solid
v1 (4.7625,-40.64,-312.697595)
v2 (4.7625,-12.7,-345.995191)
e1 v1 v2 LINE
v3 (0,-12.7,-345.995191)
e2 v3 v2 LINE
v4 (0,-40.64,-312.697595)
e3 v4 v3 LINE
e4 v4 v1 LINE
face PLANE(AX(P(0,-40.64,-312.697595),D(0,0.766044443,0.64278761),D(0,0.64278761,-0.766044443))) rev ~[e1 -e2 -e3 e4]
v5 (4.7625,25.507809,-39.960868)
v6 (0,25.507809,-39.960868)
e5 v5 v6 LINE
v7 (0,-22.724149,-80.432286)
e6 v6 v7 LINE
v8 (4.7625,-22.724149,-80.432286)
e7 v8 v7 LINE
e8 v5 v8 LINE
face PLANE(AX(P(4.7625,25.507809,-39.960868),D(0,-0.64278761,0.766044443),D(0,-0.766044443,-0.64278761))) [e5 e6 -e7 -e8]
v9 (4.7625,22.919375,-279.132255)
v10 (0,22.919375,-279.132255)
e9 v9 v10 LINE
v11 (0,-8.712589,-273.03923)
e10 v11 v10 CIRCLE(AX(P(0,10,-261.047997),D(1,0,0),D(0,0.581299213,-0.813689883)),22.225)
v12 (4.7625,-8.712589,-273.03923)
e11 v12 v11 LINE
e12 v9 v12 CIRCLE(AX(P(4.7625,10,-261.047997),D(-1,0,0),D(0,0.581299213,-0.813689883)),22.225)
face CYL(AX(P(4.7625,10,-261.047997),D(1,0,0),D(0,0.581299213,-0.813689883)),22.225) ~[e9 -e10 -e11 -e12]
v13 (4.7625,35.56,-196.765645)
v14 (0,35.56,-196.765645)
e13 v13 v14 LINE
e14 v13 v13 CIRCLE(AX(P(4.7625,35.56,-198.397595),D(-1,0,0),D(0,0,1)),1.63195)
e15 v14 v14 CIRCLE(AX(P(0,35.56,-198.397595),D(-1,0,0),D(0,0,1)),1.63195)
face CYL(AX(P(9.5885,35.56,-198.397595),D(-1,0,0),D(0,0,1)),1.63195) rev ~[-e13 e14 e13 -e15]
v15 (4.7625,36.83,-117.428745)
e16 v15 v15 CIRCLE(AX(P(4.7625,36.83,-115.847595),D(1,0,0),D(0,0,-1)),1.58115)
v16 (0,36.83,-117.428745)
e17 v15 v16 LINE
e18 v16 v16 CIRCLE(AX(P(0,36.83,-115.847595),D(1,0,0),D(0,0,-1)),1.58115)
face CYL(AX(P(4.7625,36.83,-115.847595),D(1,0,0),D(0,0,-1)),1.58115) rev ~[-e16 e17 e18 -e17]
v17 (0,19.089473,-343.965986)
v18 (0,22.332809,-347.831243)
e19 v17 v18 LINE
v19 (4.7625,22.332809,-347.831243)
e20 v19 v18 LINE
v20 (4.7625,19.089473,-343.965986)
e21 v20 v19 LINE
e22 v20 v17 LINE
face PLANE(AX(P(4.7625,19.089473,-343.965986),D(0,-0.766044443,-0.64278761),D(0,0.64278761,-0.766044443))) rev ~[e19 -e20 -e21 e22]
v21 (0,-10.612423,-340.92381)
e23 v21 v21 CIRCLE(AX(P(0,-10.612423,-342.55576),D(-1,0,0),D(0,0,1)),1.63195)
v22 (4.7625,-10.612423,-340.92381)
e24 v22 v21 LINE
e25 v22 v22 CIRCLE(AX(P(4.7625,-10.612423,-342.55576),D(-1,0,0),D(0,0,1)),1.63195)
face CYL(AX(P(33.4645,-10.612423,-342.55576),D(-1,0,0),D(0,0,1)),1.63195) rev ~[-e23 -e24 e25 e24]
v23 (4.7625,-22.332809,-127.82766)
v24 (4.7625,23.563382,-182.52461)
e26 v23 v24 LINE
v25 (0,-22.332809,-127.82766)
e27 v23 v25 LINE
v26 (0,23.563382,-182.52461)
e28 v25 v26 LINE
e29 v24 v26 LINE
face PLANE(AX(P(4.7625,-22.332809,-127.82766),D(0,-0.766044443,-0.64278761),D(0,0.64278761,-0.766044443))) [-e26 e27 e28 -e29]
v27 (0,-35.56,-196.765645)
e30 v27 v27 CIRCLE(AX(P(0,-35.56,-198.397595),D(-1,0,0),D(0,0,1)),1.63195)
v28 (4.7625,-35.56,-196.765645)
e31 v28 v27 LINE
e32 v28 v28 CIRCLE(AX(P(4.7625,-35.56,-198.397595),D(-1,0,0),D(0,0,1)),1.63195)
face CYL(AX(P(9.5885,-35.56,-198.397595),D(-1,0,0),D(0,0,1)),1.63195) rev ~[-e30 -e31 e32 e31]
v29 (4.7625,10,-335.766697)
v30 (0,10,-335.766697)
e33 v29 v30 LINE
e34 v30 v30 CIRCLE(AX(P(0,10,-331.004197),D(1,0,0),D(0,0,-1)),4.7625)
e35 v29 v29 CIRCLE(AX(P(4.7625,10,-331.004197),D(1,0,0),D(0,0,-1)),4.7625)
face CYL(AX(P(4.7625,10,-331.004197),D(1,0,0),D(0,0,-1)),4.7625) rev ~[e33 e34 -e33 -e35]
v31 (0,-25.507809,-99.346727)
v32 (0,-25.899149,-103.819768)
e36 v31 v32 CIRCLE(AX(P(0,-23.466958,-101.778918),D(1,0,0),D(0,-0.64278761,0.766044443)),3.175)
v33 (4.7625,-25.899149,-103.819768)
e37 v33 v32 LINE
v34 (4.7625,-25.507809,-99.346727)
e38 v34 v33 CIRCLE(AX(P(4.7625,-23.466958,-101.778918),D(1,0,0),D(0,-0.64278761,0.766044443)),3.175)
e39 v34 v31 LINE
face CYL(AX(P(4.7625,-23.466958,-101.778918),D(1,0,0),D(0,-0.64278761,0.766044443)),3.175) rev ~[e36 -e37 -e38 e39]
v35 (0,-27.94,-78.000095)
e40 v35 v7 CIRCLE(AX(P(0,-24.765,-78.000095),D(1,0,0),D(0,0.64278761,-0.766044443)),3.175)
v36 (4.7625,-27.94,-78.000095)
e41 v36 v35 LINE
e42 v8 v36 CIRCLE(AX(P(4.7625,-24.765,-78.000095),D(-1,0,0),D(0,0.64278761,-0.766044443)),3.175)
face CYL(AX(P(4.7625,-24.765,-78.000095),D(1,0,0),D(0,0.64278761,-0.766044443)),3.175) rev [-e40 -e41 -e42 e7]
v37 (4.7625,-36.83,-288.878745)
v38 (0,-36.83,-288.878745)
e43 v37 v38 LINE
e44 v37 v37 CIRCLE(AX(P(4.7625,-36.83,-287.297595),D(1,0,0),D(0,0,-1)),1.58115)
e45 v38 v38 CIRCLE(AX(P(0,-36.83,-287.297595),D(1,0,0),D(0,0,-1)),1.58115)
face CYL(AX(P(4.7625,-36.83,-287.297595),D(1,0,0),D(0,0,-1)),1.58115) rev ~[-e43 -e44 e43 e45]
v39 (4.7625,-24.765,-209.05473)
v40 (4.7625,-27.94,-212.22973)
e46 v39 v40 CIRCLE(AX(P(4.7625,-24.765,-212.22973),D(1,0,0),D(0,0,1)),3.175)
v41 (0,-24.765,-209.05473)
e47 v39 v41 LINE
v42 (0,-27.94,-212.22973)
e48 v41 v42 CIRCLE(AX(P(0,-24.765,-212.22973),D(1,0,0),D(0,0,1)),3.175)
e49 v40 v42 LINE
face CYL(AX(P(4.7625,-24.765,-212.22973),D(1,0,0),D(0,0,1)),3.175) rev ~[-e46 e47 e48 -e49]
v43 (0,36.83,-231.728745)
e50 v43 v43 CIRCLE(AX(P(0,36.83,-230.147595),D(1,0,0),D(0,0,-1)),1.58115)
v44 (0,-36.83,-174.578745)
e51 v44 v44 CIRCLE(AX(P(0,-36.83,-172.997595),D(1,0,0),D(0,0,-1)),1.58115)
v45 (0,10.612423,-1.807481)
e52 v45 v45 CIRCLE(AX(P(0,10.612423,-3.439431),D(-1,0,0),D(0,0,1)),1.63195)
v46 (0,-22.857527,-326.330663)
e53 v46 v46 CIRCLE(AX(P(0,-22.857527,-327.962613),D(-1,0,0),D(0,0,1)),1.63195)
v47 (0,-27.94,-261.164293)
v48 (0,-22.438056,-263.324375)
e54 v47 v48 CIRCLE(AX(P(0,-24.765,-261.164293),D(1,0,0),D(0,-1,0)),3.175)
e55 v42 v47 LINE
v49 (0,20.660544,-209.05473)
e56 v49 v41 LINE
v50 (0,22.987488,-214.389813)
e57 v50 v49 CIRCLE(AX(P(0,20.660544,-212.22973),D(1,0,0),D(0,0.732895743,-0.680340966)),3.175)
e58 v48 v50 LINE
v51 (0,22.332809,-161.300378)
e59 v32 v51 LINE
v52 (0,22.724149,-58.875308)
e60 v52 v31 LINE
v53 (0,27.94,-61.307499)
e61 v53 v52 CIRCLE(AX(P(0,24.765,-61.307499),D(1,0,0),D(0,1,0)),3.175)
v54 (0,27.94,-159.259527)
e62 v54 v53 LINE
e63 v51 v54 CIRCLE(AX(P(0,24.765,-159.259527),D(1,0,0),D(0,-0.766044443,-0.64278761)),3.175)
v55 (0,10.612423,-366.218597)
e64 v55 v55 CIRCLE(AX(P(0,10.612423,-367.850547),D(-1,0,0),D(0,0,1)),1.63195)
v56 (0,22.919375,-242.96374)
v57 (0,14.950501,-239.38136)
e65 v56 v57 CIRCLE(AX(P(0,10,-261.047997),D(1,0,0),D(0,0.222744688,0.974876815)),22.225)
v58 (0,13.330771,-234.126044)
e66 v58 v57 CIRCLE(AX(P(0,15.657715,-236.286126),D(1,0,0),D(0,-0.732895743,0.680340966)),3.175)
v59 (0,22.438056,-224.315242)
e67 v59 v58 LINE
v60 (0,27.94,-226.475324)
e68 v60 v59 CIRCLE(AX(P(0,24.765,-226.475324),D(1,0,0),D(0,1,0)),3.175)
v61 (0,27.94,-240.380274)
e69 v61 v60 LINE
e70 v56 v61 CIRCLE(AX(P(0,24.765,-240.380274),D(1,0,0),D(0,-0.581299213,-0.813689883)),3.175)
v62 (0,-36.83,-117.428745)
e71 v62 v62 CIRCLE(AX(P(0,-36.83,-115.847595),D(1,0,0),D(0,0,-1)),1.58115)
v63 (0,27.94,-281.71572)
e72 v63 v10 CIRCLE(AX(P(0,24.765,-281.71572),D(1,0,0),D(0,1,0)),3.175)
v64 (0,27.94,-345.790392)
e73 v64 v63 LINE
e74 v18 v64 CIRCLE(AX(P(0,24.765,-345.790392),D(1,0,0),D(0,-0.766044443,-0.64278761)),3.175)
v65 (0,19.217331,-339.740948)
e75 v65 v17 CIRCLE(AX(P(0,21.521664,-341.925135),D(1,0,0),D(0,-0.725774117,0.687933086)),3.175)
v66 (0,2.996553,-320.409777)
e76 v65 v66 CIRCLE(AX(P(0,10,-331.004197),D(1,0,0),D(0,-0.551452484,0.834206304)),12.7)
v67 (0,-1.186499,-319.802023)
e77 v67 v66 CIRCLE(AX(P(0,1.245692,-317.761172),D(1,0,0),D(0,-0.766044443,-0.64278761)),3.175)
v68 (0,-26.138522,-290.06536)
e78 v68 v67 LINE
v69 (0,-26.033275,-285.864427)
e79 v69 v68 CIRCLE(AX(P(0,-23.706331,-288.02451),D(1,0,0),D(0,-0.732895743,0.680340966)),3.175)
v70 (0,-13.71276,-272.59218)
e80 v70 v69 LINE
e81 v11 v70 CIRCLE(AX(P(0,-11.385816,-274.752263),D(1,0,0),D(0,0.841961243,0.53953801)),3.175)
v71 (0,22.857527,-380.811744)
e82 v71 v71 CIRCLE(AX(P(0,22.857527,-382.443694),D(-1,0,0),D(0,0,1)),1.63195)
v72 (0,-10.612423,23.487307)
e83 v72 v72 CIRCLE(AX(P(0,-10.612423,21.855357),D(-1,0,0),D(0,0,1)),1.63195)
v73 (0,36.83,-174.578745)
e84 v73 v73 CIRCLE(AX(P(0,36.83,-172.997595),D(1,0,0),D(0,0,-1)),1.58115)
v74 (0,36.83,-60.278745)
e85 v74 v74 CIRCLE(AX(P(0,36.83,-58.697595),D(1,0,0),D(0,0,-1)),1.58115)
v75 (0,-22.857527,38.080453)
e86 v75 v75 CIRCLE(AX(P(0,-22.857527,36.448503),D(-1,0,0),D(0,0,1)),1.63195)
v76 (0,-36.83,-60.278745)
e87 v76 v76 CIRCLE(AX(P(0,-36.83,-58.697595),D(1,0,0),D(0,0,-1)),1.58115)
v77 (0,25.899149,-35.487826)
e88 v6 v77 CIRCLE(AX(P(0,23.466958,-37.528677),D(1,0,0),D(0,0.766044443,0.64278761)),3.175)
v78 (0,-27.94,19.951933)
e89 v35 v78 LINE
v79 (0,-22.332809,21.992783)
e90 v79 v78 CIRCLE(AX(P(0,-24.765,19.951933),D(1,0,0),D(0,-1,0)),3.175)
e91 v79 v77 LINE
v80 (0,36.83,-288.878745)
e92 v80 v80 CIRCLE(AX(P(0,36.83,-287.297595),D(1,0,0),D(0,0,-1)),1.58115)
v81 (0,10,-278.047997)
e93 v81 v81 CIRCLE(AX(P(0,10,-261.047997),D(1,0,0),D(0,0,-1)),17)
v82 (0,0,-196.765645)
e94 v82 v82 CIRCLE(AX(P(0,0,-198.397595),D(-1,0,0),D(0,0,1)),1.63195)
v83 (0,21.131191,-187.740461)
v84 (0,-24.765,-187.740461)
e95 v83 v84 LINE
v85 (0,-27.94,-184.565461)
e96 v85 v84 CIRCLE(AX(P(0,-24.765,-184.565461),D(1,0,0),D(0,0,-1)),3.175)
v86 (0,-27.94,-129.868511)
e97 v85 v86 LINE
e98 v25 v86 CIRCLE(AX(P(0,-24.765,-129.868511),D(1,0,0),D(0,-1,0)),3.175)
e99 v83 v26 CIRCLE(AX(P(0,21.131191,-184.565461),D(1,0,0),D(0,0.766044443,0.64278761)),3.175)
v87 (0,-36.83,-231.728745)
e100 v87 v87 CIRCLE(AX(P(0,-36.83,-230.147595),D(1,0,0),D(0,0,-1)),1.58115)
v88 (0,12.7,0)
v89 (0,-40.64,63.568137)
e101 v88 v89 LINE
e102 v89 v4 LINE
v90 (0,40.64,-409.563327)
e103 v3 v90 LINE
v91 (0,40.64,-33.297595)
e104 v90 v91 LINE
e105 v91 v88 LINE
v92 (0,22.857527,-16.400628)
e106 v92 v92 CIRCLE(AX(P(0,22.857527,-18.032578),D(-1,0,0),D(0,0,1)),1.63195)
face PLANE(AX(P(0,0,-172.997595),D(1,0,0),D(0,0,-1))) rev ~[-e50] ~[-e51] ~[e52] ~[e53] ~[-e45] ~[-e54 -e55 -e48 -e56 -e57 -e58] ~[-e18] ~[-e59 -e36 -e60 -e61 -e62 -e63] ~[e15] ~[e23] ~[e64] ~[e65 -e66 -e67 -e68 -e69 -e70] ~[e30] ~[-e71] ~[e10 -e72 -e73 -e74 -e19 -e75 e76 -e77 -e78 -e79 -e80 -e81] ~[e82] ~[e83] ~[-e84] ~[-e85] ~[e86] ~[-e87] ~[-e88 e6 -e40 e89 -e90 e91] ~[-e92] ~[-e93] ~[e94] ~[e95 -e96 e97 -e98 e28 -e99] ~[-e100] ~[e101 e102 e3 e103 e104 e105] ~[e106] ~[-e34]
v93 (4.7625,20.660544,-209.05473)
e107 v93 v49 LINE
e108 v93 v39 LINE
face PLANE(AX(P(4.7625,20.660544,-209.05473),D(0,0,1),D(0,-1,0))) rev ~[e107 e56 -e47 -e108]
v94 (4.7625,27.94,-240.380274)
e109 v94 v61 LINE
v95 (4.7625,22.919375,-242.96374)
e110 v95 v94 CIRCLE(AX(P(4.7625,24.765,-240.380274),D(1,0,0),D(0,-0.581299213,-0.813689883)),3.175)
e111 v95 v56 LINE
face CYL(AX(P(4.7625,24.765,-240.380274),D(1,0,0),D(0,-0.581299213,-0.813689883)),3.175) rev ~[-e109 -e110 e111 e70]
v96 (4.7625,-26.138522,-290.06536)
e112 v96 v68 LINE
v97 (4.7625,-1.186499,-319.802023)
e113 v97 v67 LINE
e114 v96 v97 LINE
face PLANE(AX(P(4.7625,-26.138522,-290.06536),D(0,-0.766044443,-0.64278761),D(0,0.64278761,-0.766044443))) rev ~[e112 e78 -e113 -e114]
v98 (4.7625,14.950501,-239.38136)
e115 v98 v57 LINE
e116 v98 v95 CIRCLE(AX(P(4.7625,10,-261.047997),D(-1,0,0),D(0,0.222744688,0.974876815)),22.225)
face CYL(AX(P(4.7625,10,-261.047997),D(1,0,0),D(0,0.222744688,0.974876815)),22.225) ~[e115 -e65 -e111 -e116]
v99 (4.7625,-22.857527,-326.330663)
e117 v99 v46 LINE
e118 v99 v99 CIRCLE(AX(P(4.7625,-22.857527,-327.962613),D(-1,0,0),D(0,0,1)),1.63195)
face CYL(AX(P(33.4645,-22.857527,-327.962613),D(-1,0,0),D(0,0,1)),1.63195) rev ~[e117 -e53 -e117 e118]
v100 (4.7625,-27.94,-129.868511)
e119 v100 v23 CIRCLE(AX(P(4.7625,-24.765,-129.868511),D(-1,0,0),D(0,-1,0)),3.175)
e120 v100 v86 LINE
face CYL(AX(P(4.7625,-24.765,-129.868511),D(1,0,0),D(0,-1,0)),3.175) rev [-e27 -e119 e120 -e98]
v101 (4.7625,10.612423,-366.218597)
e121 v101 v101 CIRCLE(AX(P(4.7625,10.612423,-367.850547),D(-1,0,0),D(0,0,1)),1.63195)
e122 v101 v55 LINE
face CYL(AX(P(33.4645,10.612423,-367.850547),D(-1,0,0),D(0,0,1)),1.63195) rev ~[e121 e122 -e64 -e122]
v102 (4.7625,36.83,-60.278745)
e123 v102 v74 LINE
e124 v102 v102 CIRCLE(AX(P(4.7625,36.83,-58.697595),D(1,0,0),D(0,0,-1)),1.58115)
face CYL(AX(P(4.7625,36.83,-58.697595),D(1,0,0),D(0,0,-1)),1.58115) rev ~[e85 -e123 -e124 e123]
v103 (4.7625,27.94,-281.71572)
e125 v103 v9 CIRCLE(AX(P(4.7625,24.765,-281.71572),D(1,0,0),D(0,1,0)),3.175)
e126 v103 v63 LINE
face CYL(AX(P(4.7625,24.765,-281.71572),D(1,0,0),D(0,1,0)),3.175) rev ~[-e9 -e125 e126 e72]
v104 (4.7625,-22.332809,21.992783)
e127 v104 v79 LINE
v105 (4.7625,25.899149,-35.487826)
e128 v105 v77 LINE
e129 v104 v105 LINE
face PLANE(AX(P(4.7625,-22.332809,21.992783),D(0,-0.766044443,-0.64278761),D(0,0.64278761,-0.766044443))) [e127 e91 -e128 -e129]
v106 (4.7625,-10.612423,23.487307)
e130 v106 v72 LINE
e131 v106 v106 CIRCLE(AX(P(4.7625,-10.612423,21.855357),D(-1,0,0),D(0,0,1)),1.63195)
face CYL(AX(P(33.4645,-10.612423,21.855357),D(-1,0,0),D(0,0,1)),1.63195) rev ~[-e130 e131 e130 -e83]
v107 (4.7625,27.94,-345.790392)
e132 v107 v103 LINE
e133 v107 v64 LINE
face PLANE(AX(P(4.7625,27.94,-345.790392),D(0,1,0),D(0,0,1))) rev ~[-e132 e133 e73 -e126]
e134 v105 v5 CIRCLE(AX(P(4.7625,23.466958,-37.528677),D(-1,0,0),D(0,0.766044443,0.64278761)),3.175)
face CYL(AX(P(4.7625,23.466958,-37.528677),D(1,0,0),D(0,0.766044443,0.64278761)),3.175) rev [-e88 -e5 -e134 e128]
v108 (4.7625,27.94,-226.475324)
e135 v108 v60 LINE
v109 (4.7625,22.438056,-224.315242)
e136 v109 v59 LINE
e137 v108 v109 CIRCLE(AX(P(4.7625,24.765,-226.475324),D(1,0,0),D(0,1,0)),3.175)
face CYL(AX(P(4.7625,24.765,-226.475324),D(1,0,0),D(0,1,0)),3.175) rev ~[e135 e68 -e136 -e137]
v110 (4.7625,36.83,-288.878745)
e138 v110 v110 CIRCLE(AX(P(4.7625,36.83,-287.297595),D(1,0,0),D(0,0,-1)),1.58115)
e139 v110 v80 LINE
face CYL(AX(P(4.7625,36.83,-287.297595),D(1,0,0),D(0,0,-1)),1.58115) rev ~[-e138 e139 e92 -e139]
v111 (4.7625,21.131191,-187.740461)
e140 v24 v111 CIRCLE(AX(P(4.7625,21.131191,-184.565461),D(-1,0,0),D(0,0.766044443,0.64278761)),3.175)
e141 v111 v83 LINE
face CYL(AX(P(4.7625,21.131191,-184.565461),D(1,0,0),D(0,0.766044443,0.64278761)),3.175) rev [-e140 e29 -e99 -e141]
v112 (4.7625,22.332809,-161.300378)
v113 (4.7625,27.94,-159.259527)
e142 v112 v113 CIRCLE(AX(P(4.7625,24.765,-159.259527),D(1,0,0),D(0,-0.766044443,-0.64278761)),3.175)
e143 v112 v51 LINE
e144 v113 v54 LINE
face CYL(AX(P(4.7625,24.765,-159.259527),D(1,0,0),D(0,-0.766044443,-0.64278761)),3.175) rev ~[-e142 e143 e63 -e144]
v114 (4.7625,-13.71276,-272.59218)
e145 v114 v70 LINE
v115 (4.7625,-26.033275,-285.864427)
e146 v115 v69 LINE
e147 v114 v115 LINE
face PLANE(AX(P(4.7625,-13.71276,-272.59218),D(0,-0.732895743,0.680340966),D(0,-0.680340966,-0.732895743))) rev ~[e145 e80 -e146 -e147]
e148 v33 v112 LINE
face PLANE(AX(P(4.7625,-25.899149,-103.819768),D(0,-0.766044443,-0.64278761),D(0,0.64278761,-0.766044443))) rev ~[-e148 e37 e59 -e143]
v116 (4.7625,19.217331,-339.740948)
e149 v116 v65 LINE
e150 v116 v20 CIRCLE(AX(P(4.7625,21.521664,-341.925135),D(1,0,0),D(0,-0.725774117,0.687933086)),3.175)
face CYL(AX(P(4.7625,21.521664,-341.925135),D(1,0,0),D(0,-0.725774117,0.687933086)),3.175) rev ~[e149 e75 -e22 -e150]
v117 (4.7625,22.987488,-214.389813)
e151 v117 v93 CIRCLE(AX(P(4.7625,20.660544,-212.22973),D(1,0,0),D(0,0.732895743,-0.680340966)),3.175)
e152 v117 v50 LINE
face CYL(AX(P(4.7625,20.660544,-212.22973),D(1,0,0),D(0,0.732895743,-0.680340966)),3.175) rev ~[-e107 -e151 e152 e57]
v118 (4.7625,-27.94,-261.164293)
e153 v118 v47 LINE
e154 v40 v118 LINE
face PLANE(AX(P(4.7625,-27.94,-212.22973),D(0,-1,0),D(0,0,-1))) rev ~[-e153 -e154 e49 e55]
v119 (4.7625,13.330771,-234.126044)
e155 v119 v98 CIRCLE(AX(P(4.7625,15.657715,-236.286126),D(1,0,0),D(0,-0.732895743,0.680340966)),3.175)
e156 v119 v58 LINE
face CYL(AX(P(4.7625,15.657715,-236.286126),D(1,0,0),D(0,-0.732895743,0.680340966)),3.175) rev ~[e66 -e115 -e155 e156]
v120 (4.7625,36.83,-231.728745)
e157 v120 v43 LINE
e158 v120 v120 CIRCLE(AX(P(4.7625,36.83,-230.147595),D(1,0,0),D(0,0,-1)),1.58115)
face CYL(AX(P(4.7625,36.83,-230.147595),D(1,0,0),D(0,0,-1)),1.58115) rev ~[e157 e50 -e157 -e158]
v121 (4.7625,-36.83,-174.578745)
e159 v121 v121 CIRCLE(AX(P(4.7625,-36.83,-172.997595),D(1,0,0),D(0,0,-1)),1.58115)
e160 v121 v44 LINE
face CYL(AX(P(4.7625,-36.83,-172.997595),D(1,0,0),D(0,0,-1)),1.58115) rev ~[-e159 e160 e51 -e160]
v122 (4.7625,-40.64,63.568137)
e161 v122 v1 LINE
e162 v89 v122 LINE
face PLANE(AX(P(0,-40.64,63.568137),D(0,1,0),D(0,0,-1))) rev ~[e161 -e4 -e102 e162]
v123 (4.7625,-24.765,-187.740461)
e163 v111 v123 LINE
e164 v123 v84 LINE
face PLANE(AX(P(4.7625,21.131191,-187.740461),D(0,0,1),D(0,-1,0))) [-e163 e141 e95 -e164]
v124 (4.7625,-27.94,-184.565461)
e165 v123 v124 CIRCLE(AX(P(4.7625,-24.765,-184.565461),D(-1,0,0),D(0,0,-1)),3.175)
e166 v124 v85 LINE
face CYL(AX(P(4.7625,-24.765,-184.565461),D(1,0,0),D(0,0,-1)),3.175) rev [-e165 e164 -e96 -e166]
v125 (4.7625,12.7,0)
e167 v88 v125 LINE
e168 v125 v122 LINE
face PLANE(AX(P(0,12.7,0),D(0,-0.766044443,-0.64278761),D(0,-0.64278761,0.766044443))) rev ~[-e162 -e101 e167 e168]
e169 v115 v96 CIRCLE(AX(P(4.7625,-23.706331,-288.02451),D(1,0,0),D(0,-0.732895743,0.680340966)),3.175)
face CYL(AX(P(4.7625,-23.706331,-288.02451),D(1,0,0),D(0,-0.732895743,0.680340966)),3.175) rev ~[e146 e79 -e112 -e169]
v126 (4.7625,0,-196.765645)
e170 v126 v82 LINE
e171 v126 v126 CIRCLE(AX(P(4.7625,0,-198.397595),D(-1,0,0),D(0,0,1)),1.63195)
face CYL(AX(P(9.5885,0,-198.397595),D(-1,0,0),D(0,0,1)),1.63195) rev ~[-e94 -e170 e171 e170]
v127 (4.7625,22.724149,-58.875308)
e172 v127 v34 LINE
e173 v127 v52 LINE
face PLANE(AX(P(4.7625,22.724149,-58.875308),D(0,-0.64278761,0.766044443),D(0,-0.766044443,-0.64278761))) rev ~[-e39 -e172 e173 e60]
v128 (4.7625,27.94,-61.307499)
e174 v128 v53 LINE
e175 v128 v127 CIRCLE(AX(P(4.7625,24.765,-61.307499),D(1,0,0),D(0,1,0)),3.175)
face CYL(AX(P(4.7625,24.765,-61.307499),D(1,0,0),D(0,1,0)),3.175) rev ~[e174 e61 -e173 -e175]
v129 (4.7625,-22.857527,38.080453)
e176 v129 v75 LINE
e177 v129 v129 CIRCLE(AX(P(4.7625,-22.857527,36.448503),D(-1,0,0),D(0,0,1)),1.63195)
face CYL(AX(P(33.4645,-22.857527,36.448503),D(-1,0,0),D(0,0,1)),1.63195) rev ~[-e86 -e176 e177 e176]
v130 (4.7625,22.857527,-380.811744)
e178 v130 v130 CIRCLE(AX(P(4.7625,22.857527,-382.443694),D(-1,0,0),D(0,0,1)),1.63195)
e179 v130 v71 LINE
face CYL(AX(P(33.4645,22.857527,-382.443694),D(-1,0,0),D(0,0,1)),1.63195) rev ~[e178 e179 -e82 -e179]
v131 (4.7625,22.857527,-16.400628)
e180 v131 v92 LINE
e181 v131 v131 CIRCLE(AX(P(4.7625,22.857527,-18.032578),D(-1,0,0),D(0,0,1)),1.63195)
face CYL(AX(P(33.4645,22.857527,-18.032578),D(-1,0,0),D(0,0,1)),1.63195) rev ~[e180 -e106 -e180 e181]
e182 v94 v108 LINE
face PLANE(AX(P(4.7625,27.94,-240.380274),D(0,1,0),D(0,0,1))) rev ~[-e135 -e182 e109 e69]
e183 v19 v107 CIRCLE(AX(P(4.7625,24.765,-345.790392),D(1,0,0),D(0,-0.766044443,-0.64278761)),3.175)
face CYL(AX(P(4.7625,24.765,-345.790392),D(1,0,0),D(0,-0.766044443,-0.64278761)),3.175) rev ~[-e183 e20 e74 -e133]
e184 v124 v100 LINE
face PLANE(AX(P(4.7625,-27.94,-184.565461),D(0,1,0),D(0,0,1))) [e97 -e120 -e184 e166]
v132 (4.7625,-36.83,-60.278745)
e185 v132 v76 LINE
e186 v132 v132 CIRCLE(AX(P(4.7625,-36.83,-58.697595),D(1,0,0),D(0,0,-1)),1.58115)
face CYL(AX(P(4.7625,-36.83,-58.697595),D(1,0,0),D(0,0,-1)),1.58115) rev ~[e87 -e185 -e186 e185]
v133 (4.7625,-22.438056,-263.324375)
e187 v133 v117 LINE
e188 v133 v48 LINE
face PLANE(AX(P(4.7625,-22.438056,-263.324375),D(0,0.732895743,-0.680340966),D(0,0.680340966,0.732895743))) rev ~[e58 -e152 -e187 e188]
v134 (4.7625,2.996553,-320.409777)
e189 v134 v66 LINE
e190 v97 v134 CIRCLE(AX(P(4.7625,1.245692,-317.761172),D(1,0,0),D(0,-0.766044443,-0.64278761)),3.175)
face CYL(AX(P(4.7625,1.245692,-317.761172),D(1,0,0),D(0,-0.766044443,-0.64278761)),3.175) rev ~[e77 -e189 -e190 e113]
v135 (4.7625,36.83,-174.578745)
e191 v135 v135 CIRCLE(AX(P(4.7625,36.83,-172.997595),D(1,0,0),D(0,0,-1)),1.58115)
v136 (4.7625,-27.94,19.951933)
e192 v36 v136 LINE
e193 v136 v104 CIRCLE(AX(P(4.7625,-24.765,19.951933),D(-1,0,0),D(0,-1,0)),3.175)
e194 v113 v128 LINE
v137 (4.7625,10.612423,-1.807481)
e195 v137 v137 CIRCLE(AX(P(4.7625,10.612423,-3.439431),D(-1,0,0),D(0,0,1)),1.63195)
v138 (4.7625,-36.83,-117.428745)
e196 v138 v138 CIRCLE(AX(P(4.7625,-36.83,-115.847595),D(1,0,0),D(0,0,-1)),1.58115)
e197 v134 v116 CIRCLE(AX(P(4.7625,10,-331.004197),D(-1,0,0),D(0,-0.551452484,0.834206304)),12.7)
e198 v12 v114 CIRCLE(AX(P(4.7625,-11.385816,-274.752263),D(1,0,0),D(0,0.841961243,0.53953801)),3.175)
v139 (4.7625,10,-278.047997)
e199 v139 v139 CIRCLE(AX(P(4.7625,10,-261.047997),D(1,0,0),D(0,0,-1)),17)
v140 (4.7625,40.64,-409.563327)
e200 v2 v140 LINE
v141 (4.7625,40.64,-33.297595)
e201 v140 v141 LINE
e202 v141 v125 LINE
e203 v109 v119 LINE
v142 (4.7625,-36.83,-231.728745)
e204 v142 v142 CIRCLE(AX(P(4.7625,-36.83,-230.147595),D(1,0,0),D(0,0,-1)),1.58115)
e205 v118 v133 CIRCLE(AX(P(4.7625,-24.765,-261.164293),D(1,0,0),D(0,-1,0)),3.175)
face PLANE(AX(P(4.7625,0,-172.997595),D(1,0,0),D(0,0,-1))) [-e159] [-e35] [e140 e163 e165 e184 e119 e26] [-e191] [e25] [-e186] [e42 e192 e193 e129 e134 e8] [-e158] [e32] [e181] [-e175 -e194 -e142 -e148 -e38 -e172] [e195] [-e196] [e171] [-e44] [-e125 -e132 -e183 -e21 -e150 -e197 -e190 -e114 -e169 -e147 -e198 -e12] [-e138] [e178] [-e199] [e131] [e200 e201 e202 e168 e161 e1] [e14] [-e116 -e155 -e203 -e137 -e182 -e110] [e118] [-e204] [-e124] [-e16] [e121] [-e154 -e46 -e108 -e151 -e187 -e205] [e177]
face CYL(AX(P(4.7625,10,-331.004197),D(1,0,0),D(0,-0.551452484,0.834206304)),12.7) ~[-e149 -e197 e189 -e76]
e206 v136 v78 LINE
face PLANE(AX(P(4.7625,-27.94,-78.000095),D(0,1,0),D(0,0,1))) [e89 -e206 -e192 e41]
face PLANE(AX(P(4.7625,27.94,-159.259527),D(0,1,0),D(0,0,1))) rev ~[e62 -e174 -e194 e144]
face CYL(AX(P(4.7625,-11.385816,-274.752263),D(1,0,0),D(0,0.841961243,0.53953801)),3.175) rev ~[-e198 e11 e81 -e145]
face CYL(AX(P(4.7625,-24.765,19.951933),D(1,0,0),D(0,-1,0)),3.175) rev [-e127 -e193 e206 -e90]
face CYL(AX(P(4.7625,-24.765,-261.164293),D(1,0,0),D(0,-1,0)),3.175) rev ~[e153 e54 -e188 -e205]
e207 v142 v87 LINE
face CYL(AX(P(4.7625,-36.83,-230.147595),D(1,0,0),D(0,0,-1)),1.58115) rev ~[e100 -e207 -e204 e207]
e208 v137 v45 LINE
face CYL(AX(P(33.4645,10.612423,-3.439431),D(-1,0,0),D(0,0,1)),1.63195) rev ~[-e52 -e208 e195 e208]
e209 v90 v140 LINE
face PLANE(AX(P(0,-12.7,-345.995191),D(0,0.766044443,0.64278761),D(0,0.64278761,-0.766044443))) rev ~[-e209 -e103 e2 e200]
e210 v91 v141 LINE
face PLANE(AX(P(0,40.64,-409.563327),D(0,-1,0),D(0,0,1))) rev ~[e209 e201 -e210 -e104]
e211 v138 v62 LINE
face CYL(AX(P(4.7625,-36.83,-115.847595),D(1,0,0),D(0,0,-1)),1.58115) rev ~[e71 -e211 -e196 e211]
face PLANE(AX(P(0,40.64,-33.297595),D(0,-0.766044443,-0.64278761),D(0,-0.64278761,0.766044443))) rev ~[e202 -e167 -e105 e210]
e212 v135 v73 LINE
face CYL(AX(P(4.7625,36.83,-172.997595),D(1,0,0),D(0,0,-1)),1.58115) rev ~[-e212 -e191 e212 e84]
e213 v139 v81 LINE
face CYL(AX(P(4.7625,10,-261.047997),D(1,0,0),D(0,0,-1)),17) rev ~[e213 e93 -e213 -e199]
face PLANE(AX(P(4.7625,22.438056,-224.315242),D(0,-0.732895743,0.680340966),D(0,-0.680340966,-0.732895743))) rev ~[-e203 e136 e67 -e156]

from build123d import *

# Parameters (mm, degrees)
BOSS_EXTRUDE1_DEPTH           = 4.7625
SKETCH2_R                     = 17
SKETCH2_R_2                   = 4.7625
GEARBOX_WITH_PRESS_FITS_DEPTH = 412.602247496
SKETCH3_R                     = 1.58115
CUT_EXTRUDE1_DEPTH            = 412.602247496
F_4_CLEARANCE_HOLE2_D         = 3.2639
F_4_CLEARANCE_HOLE2_DEPTH     = 28.702
F_4_CLEARANCE_HOLE2_TIP       = 0.980574487
F_4_CLEARANCE_HOLE1_D         = 3.2639
F_4_CLEARANCE_HOLE1_DEPTH     = 4.826
F_4_CLEARANCE_HOLE1_TIP       = 0.980574487
CUT_EXTRUDE2_DEPTH            = 412.602247496


with BuildPart() as part:
    # Sketch1 → Boss-Extrude1 (new body)
    with BuildSketch(Plane(origin=(0, 0, 0), x_dir=(0, 0, -1), z_dir=(1, 0, 0))):
        Polygon((33.297595377, -40.64), (312.697595377, -40.64), (345.995190754, -12.7), (409.563327383, 40.64), (312.697595377, 40.64), (33.297595377, 40.64), (0, 12.7), (-63.568136629, -40.64), align=None)
    extrude(amount=BOSS_EXTRUDE1_DEPTH)

    # Sketch2 → Gearbox (with Press fits) (cut, through all)
    with BuildSketch(Plane(origin=(4.7625, 0, 0), x_dir=(0, 0, -1), z_dir=(1, 0, 0))):
        with Locations((261.047997306, 10)):
            Circle(SKETCH2_R)
        with Locations((331.004197306, 10)):
            Circle(SKETCH2_R_2)
    extrude(amount=-GEARBOX_WITH_PRESS_FITS_DEPTH, mode=Mode.SUBTRACT)

    # Sketch3 → Cut-Extrude1 (cut, through all)
    with BuildSketch(Plane(origin=(4.7625, 0, 0), x_dir=(0, 0, -1), z_dir=(1, 0, 0))):
        with Locations((287.297595377, 36.83)):
            Circle(SKETCH3_R)
        with Locations((230.147595377, 36.83)):
            Circle(SKETCH3_R)
        with Locations((172.997595377, 36.83)):
            Circle(SKETCH3_R)
        with Locations((115.847595377, 36.83)):
            Circle(SKETCH3_R)
        with Locations((58.697595377, 36.83)):
            Circle(SKETCH3_R)
        with Locations((58.697595377, -36.83)):
            Circle(SKETCH3_R)
        with Locations((115.847595377, -36.83)):
            Circle(SKETCH3_R)
        with Locations((172.997595377, -36.83)):
            Circle(SKETCH3_R)
        with Locations((230.147595377, -36.83)):
            Circle(SKETCH3_R)
        with Locations((287.297595377, -36.83)):
            Circle(SKETCH3_R)
    extrude(amount=-CUT_EXTRUDE1_DEPTH, mode=Mode.SUBTRACT)

    # #4 Clearance Hole2
    with Locations(Plane(origin=(4.7625, 0, 0), x_dir=(0, 0, -1), z_dir=(1, 0, 0))):
        with Locations((327.962613202, -22.8575274), (342.555759844, -10.612423436), (367.850547356, 10.612423436), (382.443693997, 22.8575274), (-36.448503243, -22.8575274), (-21.855356602, -10.612423436), (3.43943091, 10.612423436), (18.032577552, 22.8575274)):
            Hole(F_4_CLEARANCE_HOLE2_D / 2, depth=F_4_CLEARANCE_HOLE2_DEPTH)
            with Locations((0, 0, -(F_4_CLEARANCE_HOLE2_DEPTH + F_4_CLEARANCE_HOLE2_TIP / 2))):  # 118° drill point
                Cone(0, F_4_CLEARANCE_HOLE2_D / 2, F_4_CLEARANCE_HOLE2_TIP, mode=Mode.SUBTRACT)

    # #4 Clearance Hole1
    with Locations(Plane(origin=(4.7625, 0, 0), x_dir=(0, 0, -1), z_dir=(1, 0, 0))):
        with Locations((198.397595377, 35.56), (198.397595377, -35.56), (198.397595377, 0)):
            Hole(F_4_CLEARANCE_HOLE1_D / 2, depth=F_4_CLEARANCE_HOLE1_DEPTH)
            with Locations((0, 0, -(F_4_CLEARANCE_HOLE1_DEPTH + F_4_CLEARANCE_HOLE1_TIP / 2))):  # 118° drill point
                Cone(0, F_4_CLEARANCE_HOLE1_D / 2, F_4_CLEARANCE_HOLE1_TIP, mode=Mode.SUBTRACT)

    # Sketch12 → Cut-Extrude2 (cut, through all)
    with BuildSketch(Plane(origin=(4.7625, 0, 0), x_dir=(0, 0, -1), z_dir=(1, 0, 0))):
        with BuildLine():
            Line((-21.992783256, -22.332808893), (35.487826245, 25.899149339))
            ThreePointArc((35.487826245, 25.899149339), (37.805396389, 26.629876399), (39.960868013, 25.507808893))
            Line((39.960868013, 25.507808893), (80.432286377, -22.724149339))
            ThreePointArc((80.432286377, -22.724149339), (80.877622494, -26.106812981), (78.00009527, -27.94))
            Line((78.00009527, -27.94), (-19.951932595, -27.94))
            ThreePointArc((-19.951932595, -27.94), (-22.935456666, -25.850913955), (-21.992783256, -22.332808893))
        make_face()
        with BuildLine():
            Line((209.054730082, 20.660543658), (209.054730082, -24.765))
            ThreePointArc((209.054730082, -24.765), (209.984666052, -27.01006403), (212.229730082, -27.94))
            Line((212.229730082, -27.94), (261.164292688, -27.94))
            ThreePointArc((261.164292688, -27.94), (264.119683707, -25.925296912), (263.324375254, -22.438056015))
            Line((263.324375254, -22.438056015), (214.389812648, 22.987487642))
            ThreePointArc((214.389812648, 22.987487642), (210.960406866, 23.570774503), (209.054730082, 20.660543658))
        make_face()
        with BuildLine():
            Line((58.875308292, 22.724149339), (99.346726656, -25.507808893))
            ThreePointArc((99.346726656, -25.507808893), (101.50219828, -26.629876399), (103.819768424, -25.899149339))
            Line((103.819768424, -25.899149339), (161.300377925, 22.332808893))
            ThreePointArc((161.300377925, 22.332808893), (162.243051335, 25.850913955), (159.259527264, 27.94))
            Line((159.259527264, 27.94), (61.307499399, 27.94))
            ThreePointArc((61.307499399, 27.94), (58.429972176, 26.106812981), (58.875308292, 22.724149339))
        make_face()
        with BuildLine():
            Line((127.827660064, -22.332808893), (182.524610012, 23.563381634))
            ThreePointArc((182.524610012, 23.563381634), (185.907273653, 24.008717751), (187.740460672, 21.131190527))
            Line((187.740460672, 21.131190527), (187.740460672, -24.765))
            ThreePointArc((187.740460672, -24.765), (186.810524703, -27.01006403), (184.565460672, -27.94))
            Line((184.565460672, -27.94), (129.868510725, -27.94))
            ThreePointArc((129.868510725, -27.94), (126.884986654, -25.850913955), (127.827660064, -22.332808893))
        make_face()
        with BuildLine():
            Line((224.315241868, 22.438056015), (234.126043645, 13.330771089))
            ThreePointArc((234.126043645, 13.330771089), (237.221277531, 12.623556705), (239.381360098, 14.950500689))
            ThreePointArc((239.381360098, 14.950500689), (240.77710315, 19.112709538), (242.96373966, 22.919375))
            ThreePointArc((242.96373966, 22.919375), (243.203436018, 26.217715668), (240.380274282, 27.94))
            Line((240.380274282, 27.94), (226.475324434, 27.94))
            ThreePointArc((226.475324434, 27.94), (223.519933415, 25.925296912), (224.315241868, 22.438056015))
        make_face()
        with BuildLine():
            Line((272.592180208, -13.712759564), (285.864427, -26.033274839))
            ThreePointArc((285.864427, -26.033274839), (287.944990379, -26.880334903), (290.065360226, -26.138521961))
            Line((290.065360226, -26.138521961), (319.802022888, -1.186499289))
            ThreePointArc((319.802022888, -1.186499289), (320.903182921, 0.789190119), (320.409777243, 2.996553454))
            ThreePointArc((320.409777243, 2.996553454), (322.840794663, 19.728764428), (339.7409475, 19.217331287))
            ThreePointArc((339.7409475, 19.217331287), (341.829097029, 18.348116929), (343.965985709, 19.089473002))
            Line((343.965985709, 19.089473002), (347.83124291, 22.332808893))
            ThreePointArc((347.83124291, 22.332808893), (348.77391632, 25.850913955), (345.790392249, 27.94))
            Line((345.790392249, 27.94), (281.71572033, 27.94))
            ThreePointArc((281.71572033, 27.94), (278.892558594, 26.217715668), (279.132254952, 22.919375))
            ThreePointArc((279.132254952, 22.919375), (282.871815818, 5.79624328), (273.039229591, -8.712588632))
            ThreePointArc((273.039229591, -8.712588632), (271.589877007, -11.103076724), (272.592180208, -13.712759564))
        make_face()
    extrude(amount=-CUT_EXTRUDE2_DEPTH, mode=Mode.SUBTRACT)


solid = part.part
